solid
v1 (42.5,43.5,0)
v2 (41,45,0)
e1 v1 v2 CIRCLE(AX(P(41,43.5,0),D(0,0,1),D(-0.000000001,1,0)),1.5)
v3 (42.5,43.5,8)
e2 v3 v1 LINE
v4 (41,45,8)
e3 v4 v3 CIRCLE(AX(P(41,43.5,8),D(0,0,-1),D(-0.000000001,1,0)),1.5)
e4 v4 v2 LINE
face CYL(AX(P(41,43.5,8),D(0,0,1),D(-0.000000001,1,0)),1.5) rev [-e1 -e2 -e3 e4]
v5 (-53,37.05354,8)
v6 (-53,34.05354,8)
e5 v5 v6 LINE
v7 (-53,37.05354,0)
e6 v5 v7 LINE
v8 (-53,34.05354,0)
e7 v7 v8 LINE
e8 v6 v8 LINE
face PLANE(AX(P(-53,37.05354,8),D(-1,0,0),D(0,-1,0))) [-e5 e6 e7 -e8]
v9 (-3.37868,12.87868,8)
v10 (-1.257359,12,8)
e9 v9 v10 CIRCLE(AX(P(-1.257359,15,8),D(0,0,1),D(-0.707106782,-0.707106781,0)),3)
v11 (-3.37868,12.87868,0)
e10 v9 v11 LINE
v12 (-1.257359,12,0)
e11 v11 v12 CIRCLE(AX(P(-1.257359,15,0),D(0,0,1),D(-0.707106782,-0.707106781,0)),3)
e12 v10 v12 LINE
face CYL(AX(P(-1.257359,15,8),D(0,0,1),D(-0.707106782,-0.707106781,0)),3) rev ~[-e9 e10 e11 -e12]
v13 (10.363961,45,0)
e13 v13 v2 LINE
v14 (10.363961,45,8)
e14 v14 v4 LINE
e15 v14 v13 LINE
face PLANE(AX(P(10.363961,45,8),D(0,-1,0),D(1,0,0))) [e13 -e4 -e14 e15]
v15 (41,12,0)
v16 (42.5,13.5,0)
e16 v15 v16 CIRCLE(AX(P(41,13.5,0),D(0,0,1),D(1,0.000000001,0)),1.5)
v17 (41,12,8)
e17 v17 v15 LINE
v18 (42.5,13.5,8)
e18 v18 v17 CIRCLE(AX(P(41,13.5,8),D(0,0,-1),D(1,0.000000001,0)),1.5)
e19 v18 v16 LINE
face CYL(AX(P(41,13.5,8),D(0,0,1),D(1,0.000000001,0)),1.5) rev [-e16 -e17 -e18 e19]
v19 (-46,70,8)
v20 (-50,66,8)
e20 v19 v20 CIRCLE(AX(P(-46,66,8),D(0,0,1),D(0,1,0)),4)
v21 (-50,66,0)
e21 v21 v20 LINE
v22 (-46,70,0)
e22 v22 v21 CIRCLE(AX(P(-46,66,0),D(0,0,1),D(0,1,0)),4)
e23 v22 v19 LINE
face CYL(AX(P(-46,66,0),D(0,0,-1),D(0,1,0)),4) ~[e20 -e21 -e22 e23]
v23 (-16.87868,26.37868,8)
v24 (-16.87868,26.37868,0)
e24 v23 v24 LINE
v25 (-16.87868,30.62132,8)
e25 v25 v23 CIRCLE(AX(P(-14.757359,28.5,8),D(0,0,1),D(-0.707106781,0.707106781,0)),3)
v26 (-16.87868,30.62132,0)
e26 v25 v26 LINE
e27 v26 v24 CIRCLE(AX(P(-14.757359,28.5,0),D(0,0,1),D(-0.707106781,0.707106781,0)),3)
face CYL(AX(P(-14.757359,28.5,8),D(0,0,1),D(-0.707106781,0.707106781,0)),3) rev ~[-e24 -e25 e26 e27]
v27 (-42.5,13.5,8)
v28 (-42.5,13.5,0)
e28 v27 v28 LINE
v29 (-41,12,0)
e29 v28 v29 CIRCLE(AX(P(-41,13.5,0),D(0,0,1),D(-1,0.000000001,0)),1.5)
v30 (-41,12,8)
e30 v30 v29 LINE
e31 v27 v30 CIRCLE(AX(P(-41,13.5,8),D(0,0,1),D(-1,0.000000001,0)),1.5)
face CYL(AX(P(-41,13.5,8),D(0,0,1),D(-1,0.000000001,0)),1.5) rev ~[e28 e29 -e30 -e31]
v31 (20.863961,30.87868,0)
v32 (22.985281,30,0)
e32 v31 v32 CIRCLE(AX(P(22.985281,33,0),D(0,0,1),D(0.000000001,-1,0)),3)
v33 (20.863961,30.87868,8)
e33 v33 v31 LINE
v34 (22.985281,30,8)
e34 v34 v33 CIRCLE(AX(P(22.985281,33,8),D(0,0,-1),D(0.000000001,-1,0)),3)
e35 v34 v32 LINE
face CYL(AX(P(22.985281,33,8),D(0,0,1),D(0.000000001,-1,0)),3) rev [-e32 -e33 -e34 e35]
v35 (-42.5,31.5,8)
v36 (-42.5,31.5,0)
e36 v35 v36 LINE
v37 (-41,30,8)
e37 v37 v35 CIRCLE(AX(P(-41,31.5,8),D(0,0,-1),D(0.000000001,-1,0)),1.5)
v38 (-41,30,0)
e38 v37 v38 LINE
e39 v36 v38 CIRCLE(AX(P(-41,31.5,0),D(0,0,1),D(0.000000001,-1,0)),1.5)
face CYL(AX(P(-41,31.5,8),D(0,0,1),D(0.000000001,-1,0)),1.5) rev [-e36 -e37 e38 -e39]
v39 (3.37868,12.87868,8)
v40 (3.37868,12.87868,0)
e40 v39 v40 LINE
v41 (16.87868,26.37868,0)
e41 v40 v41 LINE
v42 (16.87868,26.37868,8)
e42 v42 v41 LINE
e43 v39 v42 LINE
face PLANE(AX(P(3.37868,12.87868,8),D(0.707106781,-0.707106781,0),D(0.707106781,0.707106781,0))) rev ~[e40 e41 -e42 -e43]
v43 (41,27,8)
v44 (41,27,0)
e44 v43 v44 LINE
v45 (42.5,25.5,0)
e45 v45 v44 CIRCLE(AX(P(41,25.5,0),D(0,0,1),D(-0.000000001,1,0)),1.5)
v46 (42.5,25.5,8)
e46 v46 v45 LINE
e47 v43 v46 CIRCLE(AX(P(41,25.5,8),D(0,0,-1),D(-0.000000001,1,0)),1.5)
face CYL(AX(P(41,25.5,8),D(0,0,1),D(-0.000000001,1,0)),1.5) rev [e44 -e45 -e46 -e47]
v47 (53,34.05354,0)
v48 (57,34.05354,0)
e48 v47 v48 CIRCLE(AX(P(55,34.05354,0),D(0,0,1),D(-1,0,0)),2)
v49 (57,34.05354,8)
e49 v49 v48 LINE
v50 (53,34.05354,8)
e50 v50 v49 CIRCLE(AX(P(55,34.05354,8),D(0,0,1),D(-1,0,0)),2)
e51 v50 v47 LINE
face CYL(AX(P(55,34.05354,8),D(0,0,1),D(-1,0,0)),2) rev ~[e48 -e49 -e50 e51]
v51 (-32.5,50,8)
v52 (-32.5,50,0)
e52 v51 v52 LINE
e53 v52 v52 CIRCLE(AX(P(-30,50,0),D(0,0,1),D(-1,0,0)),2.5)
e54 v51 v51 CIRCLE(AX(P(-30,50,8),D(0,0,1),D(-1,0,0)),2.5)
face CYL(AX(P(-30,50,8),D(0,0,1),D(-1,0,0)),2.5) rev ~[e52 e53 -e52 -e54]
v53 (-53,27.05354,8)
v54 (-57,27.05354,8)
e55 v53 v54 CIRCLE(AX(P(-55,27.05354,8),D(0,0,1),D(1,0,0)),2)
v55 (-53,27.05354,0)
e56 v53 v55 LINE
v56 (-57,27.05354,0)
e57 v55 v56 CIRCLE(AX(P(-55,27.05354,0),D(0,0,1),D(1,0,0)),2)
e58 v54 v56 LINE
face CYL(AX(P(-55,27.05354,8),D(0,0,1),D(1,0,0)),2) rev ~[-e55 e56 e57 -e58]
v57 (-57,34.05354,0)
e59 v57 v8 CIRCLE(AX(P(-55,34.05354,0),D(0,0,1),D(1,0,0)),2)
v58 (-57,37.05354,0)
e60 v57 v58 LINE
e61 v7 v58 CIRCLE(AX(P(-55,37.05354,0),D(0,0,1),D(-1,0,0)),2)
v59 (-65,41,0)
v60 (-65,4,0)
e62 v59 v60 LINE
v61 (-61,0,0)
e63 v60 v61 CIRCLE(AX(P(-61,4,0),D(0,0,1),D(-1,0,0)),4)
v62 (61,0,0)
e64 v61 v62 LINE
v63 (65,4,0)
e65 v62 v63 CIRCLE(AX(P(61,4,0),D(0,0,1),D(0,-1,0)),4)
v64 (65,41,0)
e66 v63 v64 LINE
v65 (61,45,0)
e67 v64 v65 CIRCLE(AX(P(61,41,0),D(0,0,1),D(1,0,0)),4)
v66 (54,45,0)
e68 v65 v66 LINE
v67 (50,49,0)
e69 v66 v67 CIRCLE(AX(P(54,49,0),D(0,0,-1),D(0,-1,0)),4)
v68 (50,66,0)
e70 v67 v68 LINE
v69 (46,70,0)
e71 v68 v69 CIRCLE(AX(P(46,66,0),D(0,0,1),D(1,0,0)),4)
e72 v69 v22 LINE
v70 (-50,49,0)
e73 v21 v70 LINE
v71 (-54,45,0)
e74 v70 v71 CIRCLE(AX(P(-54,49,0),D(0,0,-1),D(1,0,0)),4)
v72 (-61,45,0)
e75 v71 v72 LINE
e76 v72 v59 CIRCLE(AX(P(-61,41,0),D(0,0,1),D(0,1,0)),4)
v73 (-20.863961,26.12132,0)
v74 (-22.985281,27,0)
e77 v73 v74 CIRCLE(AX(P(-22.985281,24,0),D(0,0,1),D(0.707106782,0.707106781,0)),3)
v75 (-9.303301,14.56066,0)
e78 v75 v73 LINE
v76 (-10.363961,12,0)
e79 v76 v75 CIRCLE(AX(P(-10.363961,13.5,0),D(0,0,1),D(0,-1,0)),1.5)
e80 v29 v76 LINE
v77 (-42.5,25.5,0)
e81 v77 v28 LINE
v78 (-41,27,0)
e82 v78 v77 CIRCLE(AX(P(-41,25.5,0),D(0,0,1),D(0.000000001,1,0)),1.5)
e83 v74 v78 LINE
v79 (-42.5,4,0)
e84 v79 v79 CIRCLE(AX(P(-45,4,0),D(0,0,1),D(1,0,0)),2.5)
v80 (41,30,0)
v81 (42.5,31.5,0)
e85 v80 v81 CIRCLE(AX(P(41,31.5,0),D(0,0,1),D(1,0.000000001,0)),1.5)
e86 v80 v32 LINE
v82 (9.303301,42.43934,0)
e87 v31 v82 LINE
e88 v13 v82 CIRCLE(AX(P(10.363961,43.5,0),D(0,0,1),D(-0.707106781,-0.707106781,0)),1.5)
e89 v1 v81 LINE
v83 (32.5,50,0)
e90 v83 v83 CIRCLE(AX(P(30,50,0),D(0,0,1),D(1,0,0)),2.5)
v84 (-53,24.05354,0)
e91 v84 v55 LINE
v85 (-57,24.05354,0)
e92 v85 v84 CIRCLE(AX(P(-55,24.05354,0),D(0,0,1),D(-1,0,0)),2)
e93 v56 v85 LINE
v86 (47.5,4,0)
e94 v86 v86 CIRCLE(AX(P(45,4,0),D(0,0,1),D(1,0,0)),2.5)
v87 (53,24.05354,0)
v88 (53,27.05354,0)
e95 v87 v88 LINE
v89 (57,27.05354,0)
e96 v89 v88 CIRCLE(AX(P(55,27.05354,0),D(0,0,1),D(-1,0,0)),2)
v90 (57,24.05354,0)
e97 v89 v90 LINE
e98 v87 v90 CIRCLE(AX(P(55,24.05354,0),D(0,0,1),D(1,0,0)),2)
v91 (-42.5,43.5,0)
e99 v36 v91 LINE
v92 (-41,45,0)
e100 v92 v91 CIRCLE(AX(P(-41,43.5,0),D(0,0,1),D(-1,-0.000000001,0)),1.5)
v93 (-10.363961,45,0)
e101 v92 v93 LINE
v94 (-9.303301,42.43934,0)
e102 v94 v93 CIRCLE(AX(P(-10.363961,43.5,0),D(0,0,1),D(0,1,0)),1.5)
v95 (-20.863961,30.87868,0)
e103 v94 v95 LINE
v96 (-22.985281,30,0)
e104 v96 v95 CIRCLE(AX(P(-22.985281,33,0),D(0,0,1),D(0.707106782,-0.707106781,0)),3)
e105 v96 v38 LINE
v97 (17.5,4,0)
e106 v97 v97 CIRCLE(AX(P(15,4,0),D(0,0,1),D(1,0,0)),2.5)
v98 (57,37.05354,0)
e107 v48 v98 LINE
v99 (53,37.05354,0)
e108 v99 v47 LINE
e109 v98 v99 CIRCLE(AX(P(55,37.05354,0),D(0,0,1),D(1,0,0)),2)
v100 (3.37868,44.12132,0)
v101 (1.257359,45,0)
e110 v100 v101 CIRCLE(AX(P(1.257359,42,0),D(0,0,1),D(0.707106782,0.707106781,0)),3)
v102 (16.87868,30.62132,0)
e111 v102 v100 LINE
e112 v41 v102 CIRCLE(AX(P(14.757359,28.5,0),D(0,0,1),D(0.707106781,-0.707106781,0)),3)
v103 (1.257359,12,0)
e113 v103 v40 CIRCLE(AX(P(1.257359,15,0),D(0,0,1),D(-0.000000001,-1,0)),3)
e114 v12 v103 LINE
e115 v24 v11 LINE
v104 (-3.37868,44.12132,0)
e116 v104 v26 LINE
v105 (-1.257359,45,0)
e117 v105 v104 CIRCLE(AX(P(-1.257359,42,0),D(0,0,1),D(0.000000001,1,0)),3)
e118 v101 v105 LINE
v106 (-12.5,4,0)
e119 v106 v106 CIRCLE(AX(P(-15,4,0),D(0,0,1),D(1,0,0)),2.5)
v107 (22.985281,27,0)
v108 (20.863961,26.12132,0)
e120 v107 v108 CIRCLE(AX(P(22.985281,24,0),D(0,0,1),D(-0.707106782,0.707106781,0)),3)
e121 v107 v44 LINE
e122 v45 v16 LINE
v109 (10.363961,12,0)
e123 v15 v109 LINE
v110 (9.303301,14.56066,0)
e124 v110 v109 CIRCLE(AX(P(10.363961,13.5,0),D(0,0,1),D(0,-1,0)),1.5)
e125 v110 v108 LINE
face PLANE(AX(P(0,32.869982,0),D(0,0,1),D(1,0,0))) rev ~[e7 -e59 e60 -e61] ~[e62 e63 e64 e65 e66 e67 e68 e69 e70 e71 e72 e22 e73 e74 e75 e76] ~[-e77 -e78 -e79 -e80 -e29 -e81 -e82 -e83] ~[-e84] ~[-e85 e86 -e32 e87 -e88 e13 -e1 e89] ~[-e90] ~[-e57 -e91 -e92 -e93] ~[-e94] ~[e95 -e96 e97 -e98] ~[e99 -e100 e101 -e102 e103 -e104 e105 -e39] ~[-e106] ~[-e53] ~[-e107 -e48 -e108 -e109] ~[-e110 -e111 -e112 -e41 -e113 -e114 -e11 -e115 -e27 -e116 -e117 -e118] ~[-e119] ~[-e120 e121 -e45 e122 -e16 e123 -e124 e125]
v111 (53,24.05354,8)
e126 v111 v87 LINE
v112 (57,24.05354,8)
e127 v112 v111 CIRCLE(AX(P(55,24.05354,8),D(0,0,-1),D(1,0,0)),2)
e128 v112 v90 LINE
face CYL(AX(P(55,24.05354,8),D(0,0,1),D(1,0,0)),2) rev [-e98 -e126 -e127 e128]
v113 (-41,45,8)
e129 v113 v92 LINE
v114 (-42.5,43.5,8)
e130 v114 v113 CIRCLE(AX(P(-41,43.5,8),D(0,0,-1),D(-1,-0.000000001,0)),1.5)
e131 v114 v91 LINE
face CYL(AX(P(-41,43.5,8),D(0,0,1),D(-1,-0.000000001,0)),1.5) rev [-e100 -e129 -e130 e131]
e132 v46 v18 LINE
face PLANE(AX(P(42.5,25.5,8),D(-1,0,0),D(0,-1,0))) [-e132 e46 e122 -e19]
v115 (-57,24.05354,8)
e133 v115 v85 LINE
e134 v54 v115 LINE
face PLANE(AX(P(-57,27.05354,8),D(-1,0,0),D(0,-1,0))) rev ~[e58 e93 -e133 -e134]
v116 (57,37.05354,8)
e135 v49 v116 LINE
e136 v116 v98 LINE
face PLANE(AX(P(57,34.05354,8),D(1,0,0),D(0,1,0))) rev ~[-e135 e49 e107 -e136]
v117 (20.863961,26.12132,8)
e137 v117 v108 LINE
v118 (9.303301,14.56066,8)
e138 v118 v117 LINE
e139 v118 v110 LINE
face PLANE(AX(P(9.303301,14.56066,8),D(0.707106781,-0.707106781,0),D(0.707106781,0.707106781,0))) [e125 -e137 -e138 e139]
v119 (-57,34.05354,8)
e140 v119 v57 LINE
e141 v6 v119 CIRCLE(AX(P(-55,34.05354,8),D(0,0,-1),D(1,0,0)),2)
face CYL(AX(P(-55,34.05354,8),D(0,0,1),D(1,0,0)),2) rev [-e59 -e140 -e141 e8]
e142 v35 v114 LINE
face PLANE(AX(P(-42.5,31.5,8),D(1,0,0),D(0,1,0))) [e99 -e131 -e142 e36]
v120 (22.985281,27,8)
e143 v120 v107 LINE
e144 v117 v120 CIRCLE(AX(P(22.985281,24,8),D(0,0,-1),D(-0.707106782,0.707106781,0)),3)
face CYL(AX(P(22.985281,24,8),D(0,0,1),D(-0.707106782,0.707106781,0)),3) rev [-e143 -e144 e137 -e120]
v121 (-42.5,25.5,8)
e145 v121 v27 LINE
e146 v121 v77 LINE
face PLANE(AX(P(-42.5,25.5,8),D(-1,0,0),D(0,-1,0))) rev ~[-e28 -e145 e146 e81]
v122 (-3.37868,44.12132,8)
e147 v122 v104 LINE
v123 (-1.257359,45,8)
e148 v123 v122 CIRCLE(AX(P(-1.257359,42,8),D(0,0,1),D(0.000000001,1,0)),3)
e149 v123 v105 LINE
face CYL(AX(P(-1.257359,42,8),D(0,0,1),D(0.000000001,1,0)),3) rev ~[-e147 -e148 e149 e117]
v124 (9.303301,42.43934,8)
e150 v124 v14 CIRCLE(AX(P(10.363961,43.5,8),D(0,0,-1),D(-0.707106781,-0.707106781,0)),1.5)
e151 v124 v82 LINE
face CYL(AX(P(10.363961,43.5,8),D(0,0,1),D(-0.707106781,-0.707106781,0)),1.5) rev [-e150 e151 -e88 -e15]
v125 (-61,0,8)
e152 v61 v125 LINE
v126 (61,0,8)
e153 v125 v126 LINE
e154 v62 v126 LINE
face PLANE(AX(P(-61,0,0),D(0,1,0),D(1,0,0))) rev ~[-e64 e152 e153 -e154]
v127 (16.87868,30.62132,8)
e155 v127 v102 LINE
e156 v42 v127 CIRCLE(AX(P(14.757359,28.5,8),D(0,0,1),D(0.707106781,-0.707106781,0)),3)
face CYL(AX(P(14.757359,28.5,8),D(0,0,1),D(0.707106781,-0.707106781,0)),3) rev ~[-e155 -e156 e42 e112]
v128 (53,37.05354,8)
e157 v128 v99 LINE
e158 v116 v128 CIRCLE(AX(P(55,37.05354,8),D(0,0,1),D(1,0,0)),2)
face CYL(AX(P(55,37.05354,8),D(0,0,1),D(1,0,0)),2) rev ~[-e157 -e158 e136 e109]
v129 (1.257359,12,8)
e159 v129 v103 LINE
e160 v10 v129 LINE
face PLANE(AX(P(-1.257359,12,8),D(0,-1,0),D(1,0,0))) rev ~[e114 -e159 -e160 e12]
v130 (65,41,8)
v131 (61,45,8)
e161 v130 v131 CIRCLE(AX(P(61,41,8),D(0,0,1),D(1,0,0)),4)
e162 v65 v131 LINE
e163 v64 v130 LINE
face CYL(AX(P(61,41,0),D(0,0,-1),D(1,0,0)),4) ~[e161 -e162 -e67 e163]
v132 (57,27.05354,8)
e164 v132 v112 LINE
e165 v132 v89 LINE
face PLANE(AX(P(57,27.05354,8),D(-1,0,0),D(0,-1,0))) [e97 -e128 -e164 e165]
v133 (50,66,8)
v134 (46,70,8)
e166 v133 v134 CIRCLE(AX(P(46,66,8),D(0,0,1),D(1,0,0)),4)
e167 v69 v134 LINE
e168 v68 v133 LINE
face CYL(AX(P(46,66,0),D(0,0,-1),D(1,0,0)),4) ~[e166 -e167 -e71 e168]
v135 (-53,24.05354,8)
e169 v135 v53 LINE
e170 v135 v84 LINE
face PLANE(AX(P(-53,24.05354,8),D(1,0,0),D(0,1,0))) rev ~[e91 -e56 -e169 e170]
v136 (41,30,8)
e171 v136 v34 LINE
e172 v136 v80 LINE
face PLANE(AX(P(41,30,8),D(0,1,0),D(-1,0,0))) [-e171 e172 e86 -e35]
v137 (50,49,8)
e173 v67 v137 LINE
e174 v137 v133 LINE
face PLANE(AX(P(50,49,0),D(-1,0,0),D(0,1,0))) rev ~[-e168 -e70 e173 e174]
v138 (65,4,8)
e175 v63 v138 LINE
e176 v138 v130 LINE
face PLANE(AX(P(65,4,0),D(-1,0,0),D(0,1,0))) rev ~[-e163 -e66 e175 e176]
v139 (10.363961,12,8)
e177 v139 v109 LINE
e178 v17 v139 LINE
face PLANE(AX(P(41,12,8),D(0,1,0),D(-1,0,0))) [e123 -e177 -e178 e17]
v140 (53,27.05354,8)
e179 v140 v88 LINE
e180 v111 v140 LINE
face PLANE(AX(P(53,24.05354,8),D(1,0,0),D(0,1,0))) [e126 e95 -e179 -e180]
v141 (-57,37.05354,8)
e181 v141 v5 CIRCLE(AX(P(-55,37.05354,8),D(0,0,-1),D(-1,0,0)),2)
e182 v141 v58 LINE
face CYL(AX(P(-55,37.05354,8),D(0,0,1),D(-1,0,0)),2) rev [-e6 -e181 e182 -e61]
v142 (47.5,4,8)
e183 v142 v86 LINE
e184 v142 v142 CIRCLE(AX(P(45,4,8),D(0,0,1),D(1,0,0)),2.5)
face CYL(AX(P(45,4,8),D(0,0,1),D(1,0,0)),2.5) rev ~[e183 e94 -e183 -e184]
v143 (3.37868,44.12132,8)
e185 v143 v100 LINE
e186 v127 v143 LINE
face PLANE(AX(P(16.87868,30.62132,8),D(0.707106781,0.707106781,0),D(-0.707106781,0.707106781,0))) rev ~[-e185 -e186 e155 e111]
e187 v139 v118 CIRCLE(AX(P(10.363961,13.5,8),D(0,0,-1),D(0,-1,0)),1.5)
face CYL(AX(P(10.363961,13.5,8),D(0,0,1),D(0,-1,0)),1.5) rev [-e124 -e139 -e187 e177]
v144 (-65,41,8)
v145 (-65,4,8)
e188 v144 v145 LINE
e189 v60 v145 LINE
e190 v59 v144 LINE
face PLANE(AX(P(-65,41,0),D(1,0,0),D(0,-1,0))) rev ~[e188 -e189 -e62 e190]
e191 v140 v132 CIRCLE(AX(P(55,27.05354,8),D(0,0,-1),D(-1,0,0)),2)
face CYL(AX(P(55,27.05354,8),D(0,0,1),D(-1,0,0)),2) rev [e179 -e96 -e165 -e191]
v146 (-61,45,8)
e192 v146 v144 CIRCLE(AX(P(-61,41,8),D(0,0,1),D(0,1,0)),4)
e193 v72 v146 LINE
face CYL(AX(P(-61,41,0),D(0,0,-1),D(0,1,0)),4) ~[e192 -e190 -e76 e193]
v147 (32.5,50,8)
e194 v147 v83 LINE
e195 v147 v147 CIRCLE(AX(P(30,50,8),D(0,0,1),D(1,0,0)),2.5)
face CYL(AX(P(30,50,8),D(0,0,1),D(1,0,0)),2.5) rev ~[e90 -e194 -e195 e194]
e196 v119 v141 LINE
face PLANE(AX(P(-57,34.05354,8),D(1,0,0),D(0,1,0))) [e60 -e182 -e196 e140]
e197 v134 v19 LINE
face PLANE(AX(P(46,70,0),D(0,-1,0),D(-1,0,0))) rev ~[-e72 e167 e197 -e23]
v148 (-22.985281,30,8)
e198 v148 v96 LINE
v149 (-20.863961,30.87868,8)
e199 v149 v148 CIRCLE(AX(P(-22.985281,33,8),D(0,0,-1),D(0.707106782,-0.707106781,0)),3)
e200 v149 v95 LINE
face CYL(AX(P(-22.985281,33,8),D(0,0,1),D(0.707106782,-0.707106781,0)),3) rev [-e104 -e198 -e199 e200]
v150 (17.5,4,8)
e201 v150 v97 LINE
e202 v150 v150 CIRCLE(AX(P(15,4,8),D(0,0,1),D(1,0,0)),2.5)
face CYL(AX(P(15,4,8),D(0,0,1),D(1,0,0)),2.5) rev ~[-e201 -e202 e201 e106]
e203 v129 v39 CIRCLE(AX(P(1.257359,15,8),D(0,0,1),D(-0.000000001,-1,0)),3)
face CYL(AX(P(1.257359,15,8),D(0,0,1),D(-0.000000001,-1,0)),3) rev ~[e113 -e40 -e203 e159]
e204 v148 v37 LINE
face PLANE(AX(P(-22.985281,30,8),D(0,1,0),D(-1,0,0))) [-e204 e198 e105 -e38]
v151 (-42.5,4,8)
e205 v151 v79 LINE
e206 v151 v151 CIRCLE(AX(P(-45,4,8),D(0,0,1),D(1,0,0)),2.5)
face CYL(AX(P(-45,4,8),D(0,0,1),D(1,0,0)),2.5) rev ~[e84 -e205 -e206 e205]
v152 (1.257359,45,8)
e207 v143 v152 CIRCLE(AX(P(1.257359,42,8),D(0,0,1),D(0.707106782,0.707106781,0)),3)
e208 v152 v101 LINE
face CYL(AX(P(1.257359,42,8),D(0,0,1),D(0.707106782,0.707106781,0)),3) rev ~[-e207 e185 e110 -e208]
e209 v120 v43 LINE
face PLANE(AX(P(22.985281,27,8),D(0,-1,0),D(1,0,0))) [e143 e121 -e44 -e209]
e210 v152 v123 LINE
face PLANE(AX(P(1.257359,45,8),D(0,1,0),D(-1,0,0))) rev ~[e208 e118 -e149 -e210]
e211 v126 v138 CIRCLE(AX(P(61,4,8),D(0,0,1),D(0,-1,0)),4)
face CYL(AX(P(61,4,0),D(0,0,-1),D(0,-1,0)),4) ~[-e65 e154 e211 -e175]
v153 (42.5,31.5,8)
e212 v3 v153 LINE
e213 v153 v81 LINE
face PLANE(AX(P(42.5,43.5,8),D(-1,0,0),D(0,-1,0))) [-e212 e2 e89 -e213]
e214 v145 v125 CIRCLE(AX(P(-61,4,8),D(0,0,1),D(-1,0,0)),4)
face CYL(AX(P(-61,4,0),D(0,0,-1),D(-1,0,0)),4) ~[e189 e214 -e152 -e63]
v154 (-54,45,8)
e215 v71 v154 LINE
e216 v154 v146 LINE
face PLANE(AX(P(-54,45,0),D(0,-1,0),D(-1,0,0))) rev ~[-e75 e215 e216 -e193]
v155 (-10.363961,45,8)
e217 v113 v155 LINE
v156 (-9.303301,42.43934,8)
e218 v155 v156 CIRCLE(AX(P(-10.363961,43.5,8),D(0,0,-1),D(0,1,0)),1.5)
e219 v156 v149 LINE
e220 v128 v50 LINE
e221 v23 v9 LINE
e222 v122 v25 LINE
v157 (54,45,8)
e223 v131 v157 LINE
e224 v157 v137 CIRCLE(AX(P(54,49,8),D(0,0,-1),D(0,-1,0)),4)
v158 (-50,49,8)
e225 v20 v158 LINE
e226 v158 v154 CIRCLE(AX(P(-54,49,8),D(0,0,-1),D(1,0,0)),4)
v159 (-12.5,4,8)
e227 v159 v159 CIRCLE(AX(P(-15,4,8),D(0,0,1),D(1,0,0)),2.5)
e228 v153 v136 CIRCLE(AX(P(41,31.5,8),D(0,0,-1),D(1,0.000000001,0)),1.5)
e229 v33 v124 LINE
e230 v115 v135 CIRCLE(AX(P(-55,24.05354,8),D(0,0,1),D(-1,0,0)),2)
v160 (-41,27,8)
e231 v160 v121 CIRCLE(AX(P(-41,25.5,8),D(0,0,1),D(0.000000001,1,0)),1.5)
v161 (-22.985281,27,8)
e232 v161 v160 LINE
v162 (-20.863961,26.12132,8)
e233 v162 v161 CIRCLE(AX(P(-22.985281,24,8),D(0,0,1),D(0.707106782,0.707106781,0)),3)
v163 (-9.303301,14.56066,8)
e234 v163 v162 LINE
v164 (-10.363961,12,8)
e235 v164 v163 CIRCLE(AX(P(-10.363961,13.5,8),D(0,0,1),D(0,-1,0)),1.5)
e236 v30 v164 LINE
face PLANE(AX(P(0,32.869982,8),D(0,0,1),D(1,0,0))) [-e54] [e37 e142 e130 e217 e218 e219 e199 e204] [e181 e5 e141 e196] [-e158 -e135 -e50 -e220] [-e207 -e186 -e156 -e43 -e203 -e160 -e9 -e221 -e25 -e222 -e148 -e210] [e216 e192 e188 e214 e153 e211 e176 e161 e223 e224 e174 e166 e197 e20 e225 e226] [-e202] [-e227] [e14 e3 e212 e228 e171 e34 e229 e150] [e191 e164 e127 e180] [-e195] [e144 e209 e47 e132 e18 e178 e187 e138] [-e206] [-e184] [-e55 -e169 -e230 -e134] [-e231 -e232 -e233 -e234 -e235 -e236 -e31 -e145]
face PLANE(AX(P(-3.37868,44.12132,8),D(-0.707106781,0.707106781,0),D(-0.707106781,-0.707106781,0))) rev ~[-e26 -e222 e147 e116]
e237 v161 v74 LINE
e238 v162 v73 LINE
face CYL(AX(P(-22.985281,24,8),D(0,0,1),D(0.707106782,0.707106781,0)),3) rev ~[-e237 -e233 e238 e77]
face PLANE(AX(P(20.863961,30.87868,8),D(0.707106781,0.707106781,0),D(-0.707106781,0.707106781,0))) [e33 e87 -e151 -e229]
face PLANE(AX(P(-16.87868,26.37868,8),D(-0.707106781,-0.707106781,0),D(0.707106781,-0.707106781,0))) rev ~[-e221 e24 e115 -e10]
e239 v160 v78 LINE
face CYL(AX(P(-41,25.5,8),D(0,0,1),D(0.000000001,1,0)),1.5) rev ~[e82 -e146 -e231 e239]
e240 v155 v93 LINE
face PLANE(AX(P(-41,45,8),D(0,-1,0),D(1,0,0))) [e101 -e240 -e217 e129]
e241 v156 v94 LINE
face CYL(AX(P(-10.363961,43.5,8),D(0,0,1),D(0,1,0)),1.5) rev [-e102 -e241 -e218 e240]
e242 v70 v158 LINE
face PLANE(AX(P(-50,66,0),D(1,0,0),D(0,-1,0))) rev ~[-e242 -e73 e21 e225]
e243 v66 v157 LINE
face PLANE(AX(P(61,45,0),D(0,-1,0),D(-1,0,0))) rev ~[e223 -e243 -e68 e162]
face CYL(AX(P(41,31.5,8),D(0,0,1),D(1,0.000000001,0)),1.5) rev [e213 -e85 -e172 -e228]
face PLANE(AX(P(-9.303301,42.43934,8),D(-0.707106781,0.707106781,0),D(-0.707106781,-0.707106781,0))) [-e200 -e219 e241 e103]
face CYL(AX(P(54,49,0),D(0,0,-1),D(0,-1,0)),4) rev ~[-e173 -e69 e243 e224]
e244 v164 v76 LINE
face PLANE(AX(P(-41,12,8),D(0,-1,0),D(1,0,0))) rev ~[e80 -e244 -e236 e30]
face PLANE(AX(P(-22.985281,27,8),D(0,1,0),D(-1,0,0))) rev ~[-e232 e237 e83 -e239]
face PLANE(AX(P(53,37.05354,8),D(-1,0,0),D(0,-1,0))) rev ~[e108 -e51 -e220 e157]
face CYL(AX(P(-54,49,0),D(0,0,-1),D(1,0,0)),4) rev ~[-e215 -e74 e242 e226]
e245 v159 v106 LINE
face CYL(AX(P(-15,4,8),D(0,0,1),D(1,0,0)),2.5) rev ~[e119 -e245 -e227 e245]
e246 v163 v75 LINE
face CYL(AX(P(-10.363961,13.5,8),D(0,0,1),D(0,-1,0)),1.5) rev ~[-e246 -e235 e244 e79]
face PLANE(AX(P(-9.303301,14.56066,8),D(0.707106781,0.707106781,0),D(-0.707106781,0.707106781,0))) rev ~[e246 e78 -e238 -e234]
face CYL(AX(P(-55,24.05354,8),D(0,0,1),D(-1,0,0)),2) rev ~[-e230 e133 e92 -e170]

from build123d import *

# Parameters (mm, degrees)
BOSS_EXTRU_1_DEPTH      = 8
ESQUISSE2_R             = 2.5
ENL_V_MAT_EXTRU_1_DEPTH = 96.859271852
ENL_V_MAT_EXTRU_4_DEPTH = 96.859271852
ESQUISSE5_R             = 2.5
ENL_V_MAT_EXTRU_5_DEPTH = 96.859271852
ENL_V_MAT_EXTRU_6_DEPTH = 96.859271852


with BuildPart() as part:
    # Esquisse1 → Boss.-Extru.1 (new body)
    with BuildSketch(Plane.XY):
        with BuildLine():
            Line((65, 4), (65, 41))
            ThreePointArc((65, 41), (63.828427125, 43.828427125), (61, 45))
            Line((61, 45), (54, 45))
            ThreePointArc((54, 45), (51.171572875, 46.171572875), (50, 49))
            Line((50, 49), (50, 66))
            ThreePointArc((50, 66), (48.828427125, 68.828427125), (46, 70))
            Line((46, 70), (-46, 70))
            ThreePointArc((-46, 70), (-48.828427125, 68.828427125), (-50, 66))
            Line((-50, 66), (-50, 49))
            ThreePointArc((-50, 49), (-51.171572875, 46.171572875), (-54, 45))
            Line((-54, 45), (-61, 45))
            ThreePointArc((-61, 45), (-63.828427125, 43.828427125), (-65, 41))
            Line((-65, 41), (-65, 4))
            ThreePointArc((-65, 4), (-63.828427125, 1.171572875), (-61, 0))
            Line((-61, 0), (61, 0))
            ThreePointArc((61, 0), (63.828427125, 1.171572875), (65, 4))
        make_face()
    extrude(amount=BOSS_EXTRU_1_DEPTH)

    # Esquisse2 → Enlèv. mat.-Extru.1 (cut, through all)
    with BuildSketch(Plane.XY.offset(8)):
        with Locations((30, 50)):
            Circle(ESQUISSE2_R)
        with Locations(Location((-30, 50, 0), (0, 0, 180))):
            Circle(ESQUISSE2_R)
    extrude(amount=-ENL_V_MAT_EXTRU_1_DEPTH, mode=Mode.SUBTRACT)

    # Esquisse4 → Enlèv. mat.-Extru.4 (cut, through all)
    with BuildSketch(Plane.XY.offset(8)):
        with BuildLine():
            Line((-41, 45), (-10.363961031, 45))
            ThreePointArc((-10.363961031, 45), (-8.978141732, 44.074025149), (-9.303300859, 42.439339828))
            Line((-9.303300859, 42.439339828), (-20.863961031, 30.878679656))
            ThreePointArc((-20.863961031, 30.878679656), (-21.837231077, 30.228361402), (-22.985281374, 30))
            Line((-22.985281374, 30), (-41, 30))
            ThreePointArc((-41, 30), (-42.060660172, 30.439339828), (-42.5, 31.5))
            Line((-42.5, 31.5), (-42.5, 43.5))
            ThreePointArc((-42.5, 43.5), (-42.060660172, 44.560660172), (-41, 45))
        make_face()
        with BuildLine():
            Line((-41, 12), (-10.363961031, 12))
            ThreePointArc((-10.363961031, 12), (-8.978141732, 12.925974851), (-9.303300859, 14.560660172))
            Line((-9.303300859, 14.560660172), (-20.863961031, 26.121320344))
            ThreePointArc((-20.863961031, 26.121320344), (-21.837231077, 26.771638598), (-22.985281374, 27))
            Line((-22.985281374, 27), (-41, 27))
            ThreePointArc((-41, 27), (-42.060660172, 26.560660172), (-42.5, 25.5))
            Line((-42.5, 25.5), (-42.5, 13.5))
            ThreePointArc((-42.5, 13.5), (-42.060660172, 12.439339828), (-41, 12))
        make_face()
        with BuildLine():
            Line((42.5, 43.5), (42.5, 31.5))
            ThreePointArc((42.5, 31.5), (42.060660172, 30.439339828), (41, 30))
            Line((41, 30), (22.985281374, 30))
            ThreePointArc((22.985281374, 30), (21.837231077, 30.228361402), (20.863961031, 30.878679656))
            Line((20.863961031, 30.878679656), (9.303300859, 42.439339828))
            ThreePointArc((9.303300859, 42.439339828), (8.978141732, 44.074025149), (10.363961031, 45))
            Line((10.363961031, 45), (41, 45))
            ThreePointArc((41, 45), (42.060660172, 44.560660172), (42.5, 43.5))
        make_face()
        with BuildLine():
            Line((22.985281374, 27), (41, 27))
            ThreePointArc((41, 27), (42.060660172, 26.560660172), (42.5, 25.5))
            Line((42.5, 25.5), (42.5, 13.5))
            ThreePointArc((42.5, 13.5), (42.060660172, 12.439339828), (41, 12))
            Line((41, 12), (10.363961031, 12))
            ThreePointArc((10.363961031, 12), (8.978141732, 12.925974851), (9.303300859, 14.560660172))
            Line((9.303300859, 14.560660172), (20.863961031, 26.121320344))
            ThreePointArc((20.863961031, 26.121320344), (21.837231077, 26.771638598), (22.985281374, 27))
        make_face()
        with BuildLine():
            Line((-3.378679656, 44.121320344), (-16.878679656, 30.621320344))
            ThreePointArc((-16.878679656, 30.621320344), (-17.757359313, 28.5), (-16.878679656, 26.378679656))
            Line((-16.878679656, 26.378679656), (-3.378679656, 12.878679656))
            ThreePointArc((-3.378679656, 12.878679656), (-2.40540961, 12.228361402), (-1.257359313, 12))
            Line((-1.257359313, 12), (1.257359313, 12))
            ThreePointArc((1.257359313, 12), (2.40540961, 12.228361402), (3.378679656, 12.878679656))
            Line((3.378679656, 12.878679656), (16.878679656, 26.378679656))
            ThreePointArc((16.878679656, 26.378679656), (17.757359313, 28.5), (16.878679656, 30.621320344))
            Line((16.878679656, 30.621320344), (3.378679656, 44.121320344))
            ThreePointArc((3.378679656, 44.121320344), (2.40540961, 44.771638598), (1.257359313, 45))
            Line((1.257359313, 45), (-1.257359313, 45))
            ThreePointArc((-1.257359313, 45), (-2.40540961, 44.771638598), (-3.378679656, 44.121320344))
        make_face()
    extrude(amount=-ENL_V_MAT_EXTRU_4_DEPTH, mode=Mode.SUBTRACT)

    # Esquisse5 → Enlèv. mat.-Extru.5 (cut, through all)
    with BuildSketch(Plane.XY.offset(8)):
        with Locations((-45, 4)):
            Circle(ESQUISSE5_R)
        with Locations((-15, 4)):
            Circle(ESQUISSE5_R)
        with Locations((15, 4)):
            Circle(ESQUISSE5_R)
        with Locations((45, 4)):
            Circle(ESQUISSE5_R)
    extrude(amount=-ENL_V_MAT_EXTRU_5_DEPTH, mode=Mode.SUBTRACT)

    # Esquisse6 → Enlèv. mat.-Extru.6 (cut, through all)
    with BuildSketch(Plane.XY.offset(8)):
        with BuildLine():
            Line((57, 27.053539967), (57, 24.053539967))
            ThreePointArc((57, 24.053539967), (55, 22.053539967), (53, 24.053539967))
            Line((53, 24.053539967), (53, 27.053539967))
            ThreePointArc((53, 27.053539967), (55, 29.053539967), (57, 27.053539967))
        make_face()
        with BuildLine():
            Line((57, 34.053539967), (57, 37.053539967))
            ThreePointArc((57, 37.053539967), (55, 39.053539967), (53, 37.053539967))
            Line((53, 37.053539967), (53, 34.053539967))
            ThreePointArc((53, 34.053539967), (55, 32.053539967), (57, 34.053539967))
        make_face()
        with BuildLine():
            Line((-57, 34.053539967), (-57, 37.053539967))
            ThreePointArc((-57, 37.053539967), (-55, 39.053539967), (-53, 37.053539967))
            Line((-53, 37.053539967), (-53, 34.053539967))
            ThreePointArc((-53, 34.053539967), (-55, 32.053539967), (-57, 34.053539967))
        make_face()
        with BuildLine():
            Line((-57, 27.053539967), (-57, 24.053539967))
            ThreePointArc((-57, 24.053539967), (-55, 22.053539967), (-53, 24.053539967))
            Line((-53, 24.053539967), (-53, 27.053539967))
            ThreePointArc((-53, 27.053539967), (-55, 29.053539967), (-57, 27.053539967))
        make_face()
    extrude(amount=-ENL_V_MAT_EXTRU_6_DEPTH, mode=Mode.SUBTRACT)


solid = part.part
